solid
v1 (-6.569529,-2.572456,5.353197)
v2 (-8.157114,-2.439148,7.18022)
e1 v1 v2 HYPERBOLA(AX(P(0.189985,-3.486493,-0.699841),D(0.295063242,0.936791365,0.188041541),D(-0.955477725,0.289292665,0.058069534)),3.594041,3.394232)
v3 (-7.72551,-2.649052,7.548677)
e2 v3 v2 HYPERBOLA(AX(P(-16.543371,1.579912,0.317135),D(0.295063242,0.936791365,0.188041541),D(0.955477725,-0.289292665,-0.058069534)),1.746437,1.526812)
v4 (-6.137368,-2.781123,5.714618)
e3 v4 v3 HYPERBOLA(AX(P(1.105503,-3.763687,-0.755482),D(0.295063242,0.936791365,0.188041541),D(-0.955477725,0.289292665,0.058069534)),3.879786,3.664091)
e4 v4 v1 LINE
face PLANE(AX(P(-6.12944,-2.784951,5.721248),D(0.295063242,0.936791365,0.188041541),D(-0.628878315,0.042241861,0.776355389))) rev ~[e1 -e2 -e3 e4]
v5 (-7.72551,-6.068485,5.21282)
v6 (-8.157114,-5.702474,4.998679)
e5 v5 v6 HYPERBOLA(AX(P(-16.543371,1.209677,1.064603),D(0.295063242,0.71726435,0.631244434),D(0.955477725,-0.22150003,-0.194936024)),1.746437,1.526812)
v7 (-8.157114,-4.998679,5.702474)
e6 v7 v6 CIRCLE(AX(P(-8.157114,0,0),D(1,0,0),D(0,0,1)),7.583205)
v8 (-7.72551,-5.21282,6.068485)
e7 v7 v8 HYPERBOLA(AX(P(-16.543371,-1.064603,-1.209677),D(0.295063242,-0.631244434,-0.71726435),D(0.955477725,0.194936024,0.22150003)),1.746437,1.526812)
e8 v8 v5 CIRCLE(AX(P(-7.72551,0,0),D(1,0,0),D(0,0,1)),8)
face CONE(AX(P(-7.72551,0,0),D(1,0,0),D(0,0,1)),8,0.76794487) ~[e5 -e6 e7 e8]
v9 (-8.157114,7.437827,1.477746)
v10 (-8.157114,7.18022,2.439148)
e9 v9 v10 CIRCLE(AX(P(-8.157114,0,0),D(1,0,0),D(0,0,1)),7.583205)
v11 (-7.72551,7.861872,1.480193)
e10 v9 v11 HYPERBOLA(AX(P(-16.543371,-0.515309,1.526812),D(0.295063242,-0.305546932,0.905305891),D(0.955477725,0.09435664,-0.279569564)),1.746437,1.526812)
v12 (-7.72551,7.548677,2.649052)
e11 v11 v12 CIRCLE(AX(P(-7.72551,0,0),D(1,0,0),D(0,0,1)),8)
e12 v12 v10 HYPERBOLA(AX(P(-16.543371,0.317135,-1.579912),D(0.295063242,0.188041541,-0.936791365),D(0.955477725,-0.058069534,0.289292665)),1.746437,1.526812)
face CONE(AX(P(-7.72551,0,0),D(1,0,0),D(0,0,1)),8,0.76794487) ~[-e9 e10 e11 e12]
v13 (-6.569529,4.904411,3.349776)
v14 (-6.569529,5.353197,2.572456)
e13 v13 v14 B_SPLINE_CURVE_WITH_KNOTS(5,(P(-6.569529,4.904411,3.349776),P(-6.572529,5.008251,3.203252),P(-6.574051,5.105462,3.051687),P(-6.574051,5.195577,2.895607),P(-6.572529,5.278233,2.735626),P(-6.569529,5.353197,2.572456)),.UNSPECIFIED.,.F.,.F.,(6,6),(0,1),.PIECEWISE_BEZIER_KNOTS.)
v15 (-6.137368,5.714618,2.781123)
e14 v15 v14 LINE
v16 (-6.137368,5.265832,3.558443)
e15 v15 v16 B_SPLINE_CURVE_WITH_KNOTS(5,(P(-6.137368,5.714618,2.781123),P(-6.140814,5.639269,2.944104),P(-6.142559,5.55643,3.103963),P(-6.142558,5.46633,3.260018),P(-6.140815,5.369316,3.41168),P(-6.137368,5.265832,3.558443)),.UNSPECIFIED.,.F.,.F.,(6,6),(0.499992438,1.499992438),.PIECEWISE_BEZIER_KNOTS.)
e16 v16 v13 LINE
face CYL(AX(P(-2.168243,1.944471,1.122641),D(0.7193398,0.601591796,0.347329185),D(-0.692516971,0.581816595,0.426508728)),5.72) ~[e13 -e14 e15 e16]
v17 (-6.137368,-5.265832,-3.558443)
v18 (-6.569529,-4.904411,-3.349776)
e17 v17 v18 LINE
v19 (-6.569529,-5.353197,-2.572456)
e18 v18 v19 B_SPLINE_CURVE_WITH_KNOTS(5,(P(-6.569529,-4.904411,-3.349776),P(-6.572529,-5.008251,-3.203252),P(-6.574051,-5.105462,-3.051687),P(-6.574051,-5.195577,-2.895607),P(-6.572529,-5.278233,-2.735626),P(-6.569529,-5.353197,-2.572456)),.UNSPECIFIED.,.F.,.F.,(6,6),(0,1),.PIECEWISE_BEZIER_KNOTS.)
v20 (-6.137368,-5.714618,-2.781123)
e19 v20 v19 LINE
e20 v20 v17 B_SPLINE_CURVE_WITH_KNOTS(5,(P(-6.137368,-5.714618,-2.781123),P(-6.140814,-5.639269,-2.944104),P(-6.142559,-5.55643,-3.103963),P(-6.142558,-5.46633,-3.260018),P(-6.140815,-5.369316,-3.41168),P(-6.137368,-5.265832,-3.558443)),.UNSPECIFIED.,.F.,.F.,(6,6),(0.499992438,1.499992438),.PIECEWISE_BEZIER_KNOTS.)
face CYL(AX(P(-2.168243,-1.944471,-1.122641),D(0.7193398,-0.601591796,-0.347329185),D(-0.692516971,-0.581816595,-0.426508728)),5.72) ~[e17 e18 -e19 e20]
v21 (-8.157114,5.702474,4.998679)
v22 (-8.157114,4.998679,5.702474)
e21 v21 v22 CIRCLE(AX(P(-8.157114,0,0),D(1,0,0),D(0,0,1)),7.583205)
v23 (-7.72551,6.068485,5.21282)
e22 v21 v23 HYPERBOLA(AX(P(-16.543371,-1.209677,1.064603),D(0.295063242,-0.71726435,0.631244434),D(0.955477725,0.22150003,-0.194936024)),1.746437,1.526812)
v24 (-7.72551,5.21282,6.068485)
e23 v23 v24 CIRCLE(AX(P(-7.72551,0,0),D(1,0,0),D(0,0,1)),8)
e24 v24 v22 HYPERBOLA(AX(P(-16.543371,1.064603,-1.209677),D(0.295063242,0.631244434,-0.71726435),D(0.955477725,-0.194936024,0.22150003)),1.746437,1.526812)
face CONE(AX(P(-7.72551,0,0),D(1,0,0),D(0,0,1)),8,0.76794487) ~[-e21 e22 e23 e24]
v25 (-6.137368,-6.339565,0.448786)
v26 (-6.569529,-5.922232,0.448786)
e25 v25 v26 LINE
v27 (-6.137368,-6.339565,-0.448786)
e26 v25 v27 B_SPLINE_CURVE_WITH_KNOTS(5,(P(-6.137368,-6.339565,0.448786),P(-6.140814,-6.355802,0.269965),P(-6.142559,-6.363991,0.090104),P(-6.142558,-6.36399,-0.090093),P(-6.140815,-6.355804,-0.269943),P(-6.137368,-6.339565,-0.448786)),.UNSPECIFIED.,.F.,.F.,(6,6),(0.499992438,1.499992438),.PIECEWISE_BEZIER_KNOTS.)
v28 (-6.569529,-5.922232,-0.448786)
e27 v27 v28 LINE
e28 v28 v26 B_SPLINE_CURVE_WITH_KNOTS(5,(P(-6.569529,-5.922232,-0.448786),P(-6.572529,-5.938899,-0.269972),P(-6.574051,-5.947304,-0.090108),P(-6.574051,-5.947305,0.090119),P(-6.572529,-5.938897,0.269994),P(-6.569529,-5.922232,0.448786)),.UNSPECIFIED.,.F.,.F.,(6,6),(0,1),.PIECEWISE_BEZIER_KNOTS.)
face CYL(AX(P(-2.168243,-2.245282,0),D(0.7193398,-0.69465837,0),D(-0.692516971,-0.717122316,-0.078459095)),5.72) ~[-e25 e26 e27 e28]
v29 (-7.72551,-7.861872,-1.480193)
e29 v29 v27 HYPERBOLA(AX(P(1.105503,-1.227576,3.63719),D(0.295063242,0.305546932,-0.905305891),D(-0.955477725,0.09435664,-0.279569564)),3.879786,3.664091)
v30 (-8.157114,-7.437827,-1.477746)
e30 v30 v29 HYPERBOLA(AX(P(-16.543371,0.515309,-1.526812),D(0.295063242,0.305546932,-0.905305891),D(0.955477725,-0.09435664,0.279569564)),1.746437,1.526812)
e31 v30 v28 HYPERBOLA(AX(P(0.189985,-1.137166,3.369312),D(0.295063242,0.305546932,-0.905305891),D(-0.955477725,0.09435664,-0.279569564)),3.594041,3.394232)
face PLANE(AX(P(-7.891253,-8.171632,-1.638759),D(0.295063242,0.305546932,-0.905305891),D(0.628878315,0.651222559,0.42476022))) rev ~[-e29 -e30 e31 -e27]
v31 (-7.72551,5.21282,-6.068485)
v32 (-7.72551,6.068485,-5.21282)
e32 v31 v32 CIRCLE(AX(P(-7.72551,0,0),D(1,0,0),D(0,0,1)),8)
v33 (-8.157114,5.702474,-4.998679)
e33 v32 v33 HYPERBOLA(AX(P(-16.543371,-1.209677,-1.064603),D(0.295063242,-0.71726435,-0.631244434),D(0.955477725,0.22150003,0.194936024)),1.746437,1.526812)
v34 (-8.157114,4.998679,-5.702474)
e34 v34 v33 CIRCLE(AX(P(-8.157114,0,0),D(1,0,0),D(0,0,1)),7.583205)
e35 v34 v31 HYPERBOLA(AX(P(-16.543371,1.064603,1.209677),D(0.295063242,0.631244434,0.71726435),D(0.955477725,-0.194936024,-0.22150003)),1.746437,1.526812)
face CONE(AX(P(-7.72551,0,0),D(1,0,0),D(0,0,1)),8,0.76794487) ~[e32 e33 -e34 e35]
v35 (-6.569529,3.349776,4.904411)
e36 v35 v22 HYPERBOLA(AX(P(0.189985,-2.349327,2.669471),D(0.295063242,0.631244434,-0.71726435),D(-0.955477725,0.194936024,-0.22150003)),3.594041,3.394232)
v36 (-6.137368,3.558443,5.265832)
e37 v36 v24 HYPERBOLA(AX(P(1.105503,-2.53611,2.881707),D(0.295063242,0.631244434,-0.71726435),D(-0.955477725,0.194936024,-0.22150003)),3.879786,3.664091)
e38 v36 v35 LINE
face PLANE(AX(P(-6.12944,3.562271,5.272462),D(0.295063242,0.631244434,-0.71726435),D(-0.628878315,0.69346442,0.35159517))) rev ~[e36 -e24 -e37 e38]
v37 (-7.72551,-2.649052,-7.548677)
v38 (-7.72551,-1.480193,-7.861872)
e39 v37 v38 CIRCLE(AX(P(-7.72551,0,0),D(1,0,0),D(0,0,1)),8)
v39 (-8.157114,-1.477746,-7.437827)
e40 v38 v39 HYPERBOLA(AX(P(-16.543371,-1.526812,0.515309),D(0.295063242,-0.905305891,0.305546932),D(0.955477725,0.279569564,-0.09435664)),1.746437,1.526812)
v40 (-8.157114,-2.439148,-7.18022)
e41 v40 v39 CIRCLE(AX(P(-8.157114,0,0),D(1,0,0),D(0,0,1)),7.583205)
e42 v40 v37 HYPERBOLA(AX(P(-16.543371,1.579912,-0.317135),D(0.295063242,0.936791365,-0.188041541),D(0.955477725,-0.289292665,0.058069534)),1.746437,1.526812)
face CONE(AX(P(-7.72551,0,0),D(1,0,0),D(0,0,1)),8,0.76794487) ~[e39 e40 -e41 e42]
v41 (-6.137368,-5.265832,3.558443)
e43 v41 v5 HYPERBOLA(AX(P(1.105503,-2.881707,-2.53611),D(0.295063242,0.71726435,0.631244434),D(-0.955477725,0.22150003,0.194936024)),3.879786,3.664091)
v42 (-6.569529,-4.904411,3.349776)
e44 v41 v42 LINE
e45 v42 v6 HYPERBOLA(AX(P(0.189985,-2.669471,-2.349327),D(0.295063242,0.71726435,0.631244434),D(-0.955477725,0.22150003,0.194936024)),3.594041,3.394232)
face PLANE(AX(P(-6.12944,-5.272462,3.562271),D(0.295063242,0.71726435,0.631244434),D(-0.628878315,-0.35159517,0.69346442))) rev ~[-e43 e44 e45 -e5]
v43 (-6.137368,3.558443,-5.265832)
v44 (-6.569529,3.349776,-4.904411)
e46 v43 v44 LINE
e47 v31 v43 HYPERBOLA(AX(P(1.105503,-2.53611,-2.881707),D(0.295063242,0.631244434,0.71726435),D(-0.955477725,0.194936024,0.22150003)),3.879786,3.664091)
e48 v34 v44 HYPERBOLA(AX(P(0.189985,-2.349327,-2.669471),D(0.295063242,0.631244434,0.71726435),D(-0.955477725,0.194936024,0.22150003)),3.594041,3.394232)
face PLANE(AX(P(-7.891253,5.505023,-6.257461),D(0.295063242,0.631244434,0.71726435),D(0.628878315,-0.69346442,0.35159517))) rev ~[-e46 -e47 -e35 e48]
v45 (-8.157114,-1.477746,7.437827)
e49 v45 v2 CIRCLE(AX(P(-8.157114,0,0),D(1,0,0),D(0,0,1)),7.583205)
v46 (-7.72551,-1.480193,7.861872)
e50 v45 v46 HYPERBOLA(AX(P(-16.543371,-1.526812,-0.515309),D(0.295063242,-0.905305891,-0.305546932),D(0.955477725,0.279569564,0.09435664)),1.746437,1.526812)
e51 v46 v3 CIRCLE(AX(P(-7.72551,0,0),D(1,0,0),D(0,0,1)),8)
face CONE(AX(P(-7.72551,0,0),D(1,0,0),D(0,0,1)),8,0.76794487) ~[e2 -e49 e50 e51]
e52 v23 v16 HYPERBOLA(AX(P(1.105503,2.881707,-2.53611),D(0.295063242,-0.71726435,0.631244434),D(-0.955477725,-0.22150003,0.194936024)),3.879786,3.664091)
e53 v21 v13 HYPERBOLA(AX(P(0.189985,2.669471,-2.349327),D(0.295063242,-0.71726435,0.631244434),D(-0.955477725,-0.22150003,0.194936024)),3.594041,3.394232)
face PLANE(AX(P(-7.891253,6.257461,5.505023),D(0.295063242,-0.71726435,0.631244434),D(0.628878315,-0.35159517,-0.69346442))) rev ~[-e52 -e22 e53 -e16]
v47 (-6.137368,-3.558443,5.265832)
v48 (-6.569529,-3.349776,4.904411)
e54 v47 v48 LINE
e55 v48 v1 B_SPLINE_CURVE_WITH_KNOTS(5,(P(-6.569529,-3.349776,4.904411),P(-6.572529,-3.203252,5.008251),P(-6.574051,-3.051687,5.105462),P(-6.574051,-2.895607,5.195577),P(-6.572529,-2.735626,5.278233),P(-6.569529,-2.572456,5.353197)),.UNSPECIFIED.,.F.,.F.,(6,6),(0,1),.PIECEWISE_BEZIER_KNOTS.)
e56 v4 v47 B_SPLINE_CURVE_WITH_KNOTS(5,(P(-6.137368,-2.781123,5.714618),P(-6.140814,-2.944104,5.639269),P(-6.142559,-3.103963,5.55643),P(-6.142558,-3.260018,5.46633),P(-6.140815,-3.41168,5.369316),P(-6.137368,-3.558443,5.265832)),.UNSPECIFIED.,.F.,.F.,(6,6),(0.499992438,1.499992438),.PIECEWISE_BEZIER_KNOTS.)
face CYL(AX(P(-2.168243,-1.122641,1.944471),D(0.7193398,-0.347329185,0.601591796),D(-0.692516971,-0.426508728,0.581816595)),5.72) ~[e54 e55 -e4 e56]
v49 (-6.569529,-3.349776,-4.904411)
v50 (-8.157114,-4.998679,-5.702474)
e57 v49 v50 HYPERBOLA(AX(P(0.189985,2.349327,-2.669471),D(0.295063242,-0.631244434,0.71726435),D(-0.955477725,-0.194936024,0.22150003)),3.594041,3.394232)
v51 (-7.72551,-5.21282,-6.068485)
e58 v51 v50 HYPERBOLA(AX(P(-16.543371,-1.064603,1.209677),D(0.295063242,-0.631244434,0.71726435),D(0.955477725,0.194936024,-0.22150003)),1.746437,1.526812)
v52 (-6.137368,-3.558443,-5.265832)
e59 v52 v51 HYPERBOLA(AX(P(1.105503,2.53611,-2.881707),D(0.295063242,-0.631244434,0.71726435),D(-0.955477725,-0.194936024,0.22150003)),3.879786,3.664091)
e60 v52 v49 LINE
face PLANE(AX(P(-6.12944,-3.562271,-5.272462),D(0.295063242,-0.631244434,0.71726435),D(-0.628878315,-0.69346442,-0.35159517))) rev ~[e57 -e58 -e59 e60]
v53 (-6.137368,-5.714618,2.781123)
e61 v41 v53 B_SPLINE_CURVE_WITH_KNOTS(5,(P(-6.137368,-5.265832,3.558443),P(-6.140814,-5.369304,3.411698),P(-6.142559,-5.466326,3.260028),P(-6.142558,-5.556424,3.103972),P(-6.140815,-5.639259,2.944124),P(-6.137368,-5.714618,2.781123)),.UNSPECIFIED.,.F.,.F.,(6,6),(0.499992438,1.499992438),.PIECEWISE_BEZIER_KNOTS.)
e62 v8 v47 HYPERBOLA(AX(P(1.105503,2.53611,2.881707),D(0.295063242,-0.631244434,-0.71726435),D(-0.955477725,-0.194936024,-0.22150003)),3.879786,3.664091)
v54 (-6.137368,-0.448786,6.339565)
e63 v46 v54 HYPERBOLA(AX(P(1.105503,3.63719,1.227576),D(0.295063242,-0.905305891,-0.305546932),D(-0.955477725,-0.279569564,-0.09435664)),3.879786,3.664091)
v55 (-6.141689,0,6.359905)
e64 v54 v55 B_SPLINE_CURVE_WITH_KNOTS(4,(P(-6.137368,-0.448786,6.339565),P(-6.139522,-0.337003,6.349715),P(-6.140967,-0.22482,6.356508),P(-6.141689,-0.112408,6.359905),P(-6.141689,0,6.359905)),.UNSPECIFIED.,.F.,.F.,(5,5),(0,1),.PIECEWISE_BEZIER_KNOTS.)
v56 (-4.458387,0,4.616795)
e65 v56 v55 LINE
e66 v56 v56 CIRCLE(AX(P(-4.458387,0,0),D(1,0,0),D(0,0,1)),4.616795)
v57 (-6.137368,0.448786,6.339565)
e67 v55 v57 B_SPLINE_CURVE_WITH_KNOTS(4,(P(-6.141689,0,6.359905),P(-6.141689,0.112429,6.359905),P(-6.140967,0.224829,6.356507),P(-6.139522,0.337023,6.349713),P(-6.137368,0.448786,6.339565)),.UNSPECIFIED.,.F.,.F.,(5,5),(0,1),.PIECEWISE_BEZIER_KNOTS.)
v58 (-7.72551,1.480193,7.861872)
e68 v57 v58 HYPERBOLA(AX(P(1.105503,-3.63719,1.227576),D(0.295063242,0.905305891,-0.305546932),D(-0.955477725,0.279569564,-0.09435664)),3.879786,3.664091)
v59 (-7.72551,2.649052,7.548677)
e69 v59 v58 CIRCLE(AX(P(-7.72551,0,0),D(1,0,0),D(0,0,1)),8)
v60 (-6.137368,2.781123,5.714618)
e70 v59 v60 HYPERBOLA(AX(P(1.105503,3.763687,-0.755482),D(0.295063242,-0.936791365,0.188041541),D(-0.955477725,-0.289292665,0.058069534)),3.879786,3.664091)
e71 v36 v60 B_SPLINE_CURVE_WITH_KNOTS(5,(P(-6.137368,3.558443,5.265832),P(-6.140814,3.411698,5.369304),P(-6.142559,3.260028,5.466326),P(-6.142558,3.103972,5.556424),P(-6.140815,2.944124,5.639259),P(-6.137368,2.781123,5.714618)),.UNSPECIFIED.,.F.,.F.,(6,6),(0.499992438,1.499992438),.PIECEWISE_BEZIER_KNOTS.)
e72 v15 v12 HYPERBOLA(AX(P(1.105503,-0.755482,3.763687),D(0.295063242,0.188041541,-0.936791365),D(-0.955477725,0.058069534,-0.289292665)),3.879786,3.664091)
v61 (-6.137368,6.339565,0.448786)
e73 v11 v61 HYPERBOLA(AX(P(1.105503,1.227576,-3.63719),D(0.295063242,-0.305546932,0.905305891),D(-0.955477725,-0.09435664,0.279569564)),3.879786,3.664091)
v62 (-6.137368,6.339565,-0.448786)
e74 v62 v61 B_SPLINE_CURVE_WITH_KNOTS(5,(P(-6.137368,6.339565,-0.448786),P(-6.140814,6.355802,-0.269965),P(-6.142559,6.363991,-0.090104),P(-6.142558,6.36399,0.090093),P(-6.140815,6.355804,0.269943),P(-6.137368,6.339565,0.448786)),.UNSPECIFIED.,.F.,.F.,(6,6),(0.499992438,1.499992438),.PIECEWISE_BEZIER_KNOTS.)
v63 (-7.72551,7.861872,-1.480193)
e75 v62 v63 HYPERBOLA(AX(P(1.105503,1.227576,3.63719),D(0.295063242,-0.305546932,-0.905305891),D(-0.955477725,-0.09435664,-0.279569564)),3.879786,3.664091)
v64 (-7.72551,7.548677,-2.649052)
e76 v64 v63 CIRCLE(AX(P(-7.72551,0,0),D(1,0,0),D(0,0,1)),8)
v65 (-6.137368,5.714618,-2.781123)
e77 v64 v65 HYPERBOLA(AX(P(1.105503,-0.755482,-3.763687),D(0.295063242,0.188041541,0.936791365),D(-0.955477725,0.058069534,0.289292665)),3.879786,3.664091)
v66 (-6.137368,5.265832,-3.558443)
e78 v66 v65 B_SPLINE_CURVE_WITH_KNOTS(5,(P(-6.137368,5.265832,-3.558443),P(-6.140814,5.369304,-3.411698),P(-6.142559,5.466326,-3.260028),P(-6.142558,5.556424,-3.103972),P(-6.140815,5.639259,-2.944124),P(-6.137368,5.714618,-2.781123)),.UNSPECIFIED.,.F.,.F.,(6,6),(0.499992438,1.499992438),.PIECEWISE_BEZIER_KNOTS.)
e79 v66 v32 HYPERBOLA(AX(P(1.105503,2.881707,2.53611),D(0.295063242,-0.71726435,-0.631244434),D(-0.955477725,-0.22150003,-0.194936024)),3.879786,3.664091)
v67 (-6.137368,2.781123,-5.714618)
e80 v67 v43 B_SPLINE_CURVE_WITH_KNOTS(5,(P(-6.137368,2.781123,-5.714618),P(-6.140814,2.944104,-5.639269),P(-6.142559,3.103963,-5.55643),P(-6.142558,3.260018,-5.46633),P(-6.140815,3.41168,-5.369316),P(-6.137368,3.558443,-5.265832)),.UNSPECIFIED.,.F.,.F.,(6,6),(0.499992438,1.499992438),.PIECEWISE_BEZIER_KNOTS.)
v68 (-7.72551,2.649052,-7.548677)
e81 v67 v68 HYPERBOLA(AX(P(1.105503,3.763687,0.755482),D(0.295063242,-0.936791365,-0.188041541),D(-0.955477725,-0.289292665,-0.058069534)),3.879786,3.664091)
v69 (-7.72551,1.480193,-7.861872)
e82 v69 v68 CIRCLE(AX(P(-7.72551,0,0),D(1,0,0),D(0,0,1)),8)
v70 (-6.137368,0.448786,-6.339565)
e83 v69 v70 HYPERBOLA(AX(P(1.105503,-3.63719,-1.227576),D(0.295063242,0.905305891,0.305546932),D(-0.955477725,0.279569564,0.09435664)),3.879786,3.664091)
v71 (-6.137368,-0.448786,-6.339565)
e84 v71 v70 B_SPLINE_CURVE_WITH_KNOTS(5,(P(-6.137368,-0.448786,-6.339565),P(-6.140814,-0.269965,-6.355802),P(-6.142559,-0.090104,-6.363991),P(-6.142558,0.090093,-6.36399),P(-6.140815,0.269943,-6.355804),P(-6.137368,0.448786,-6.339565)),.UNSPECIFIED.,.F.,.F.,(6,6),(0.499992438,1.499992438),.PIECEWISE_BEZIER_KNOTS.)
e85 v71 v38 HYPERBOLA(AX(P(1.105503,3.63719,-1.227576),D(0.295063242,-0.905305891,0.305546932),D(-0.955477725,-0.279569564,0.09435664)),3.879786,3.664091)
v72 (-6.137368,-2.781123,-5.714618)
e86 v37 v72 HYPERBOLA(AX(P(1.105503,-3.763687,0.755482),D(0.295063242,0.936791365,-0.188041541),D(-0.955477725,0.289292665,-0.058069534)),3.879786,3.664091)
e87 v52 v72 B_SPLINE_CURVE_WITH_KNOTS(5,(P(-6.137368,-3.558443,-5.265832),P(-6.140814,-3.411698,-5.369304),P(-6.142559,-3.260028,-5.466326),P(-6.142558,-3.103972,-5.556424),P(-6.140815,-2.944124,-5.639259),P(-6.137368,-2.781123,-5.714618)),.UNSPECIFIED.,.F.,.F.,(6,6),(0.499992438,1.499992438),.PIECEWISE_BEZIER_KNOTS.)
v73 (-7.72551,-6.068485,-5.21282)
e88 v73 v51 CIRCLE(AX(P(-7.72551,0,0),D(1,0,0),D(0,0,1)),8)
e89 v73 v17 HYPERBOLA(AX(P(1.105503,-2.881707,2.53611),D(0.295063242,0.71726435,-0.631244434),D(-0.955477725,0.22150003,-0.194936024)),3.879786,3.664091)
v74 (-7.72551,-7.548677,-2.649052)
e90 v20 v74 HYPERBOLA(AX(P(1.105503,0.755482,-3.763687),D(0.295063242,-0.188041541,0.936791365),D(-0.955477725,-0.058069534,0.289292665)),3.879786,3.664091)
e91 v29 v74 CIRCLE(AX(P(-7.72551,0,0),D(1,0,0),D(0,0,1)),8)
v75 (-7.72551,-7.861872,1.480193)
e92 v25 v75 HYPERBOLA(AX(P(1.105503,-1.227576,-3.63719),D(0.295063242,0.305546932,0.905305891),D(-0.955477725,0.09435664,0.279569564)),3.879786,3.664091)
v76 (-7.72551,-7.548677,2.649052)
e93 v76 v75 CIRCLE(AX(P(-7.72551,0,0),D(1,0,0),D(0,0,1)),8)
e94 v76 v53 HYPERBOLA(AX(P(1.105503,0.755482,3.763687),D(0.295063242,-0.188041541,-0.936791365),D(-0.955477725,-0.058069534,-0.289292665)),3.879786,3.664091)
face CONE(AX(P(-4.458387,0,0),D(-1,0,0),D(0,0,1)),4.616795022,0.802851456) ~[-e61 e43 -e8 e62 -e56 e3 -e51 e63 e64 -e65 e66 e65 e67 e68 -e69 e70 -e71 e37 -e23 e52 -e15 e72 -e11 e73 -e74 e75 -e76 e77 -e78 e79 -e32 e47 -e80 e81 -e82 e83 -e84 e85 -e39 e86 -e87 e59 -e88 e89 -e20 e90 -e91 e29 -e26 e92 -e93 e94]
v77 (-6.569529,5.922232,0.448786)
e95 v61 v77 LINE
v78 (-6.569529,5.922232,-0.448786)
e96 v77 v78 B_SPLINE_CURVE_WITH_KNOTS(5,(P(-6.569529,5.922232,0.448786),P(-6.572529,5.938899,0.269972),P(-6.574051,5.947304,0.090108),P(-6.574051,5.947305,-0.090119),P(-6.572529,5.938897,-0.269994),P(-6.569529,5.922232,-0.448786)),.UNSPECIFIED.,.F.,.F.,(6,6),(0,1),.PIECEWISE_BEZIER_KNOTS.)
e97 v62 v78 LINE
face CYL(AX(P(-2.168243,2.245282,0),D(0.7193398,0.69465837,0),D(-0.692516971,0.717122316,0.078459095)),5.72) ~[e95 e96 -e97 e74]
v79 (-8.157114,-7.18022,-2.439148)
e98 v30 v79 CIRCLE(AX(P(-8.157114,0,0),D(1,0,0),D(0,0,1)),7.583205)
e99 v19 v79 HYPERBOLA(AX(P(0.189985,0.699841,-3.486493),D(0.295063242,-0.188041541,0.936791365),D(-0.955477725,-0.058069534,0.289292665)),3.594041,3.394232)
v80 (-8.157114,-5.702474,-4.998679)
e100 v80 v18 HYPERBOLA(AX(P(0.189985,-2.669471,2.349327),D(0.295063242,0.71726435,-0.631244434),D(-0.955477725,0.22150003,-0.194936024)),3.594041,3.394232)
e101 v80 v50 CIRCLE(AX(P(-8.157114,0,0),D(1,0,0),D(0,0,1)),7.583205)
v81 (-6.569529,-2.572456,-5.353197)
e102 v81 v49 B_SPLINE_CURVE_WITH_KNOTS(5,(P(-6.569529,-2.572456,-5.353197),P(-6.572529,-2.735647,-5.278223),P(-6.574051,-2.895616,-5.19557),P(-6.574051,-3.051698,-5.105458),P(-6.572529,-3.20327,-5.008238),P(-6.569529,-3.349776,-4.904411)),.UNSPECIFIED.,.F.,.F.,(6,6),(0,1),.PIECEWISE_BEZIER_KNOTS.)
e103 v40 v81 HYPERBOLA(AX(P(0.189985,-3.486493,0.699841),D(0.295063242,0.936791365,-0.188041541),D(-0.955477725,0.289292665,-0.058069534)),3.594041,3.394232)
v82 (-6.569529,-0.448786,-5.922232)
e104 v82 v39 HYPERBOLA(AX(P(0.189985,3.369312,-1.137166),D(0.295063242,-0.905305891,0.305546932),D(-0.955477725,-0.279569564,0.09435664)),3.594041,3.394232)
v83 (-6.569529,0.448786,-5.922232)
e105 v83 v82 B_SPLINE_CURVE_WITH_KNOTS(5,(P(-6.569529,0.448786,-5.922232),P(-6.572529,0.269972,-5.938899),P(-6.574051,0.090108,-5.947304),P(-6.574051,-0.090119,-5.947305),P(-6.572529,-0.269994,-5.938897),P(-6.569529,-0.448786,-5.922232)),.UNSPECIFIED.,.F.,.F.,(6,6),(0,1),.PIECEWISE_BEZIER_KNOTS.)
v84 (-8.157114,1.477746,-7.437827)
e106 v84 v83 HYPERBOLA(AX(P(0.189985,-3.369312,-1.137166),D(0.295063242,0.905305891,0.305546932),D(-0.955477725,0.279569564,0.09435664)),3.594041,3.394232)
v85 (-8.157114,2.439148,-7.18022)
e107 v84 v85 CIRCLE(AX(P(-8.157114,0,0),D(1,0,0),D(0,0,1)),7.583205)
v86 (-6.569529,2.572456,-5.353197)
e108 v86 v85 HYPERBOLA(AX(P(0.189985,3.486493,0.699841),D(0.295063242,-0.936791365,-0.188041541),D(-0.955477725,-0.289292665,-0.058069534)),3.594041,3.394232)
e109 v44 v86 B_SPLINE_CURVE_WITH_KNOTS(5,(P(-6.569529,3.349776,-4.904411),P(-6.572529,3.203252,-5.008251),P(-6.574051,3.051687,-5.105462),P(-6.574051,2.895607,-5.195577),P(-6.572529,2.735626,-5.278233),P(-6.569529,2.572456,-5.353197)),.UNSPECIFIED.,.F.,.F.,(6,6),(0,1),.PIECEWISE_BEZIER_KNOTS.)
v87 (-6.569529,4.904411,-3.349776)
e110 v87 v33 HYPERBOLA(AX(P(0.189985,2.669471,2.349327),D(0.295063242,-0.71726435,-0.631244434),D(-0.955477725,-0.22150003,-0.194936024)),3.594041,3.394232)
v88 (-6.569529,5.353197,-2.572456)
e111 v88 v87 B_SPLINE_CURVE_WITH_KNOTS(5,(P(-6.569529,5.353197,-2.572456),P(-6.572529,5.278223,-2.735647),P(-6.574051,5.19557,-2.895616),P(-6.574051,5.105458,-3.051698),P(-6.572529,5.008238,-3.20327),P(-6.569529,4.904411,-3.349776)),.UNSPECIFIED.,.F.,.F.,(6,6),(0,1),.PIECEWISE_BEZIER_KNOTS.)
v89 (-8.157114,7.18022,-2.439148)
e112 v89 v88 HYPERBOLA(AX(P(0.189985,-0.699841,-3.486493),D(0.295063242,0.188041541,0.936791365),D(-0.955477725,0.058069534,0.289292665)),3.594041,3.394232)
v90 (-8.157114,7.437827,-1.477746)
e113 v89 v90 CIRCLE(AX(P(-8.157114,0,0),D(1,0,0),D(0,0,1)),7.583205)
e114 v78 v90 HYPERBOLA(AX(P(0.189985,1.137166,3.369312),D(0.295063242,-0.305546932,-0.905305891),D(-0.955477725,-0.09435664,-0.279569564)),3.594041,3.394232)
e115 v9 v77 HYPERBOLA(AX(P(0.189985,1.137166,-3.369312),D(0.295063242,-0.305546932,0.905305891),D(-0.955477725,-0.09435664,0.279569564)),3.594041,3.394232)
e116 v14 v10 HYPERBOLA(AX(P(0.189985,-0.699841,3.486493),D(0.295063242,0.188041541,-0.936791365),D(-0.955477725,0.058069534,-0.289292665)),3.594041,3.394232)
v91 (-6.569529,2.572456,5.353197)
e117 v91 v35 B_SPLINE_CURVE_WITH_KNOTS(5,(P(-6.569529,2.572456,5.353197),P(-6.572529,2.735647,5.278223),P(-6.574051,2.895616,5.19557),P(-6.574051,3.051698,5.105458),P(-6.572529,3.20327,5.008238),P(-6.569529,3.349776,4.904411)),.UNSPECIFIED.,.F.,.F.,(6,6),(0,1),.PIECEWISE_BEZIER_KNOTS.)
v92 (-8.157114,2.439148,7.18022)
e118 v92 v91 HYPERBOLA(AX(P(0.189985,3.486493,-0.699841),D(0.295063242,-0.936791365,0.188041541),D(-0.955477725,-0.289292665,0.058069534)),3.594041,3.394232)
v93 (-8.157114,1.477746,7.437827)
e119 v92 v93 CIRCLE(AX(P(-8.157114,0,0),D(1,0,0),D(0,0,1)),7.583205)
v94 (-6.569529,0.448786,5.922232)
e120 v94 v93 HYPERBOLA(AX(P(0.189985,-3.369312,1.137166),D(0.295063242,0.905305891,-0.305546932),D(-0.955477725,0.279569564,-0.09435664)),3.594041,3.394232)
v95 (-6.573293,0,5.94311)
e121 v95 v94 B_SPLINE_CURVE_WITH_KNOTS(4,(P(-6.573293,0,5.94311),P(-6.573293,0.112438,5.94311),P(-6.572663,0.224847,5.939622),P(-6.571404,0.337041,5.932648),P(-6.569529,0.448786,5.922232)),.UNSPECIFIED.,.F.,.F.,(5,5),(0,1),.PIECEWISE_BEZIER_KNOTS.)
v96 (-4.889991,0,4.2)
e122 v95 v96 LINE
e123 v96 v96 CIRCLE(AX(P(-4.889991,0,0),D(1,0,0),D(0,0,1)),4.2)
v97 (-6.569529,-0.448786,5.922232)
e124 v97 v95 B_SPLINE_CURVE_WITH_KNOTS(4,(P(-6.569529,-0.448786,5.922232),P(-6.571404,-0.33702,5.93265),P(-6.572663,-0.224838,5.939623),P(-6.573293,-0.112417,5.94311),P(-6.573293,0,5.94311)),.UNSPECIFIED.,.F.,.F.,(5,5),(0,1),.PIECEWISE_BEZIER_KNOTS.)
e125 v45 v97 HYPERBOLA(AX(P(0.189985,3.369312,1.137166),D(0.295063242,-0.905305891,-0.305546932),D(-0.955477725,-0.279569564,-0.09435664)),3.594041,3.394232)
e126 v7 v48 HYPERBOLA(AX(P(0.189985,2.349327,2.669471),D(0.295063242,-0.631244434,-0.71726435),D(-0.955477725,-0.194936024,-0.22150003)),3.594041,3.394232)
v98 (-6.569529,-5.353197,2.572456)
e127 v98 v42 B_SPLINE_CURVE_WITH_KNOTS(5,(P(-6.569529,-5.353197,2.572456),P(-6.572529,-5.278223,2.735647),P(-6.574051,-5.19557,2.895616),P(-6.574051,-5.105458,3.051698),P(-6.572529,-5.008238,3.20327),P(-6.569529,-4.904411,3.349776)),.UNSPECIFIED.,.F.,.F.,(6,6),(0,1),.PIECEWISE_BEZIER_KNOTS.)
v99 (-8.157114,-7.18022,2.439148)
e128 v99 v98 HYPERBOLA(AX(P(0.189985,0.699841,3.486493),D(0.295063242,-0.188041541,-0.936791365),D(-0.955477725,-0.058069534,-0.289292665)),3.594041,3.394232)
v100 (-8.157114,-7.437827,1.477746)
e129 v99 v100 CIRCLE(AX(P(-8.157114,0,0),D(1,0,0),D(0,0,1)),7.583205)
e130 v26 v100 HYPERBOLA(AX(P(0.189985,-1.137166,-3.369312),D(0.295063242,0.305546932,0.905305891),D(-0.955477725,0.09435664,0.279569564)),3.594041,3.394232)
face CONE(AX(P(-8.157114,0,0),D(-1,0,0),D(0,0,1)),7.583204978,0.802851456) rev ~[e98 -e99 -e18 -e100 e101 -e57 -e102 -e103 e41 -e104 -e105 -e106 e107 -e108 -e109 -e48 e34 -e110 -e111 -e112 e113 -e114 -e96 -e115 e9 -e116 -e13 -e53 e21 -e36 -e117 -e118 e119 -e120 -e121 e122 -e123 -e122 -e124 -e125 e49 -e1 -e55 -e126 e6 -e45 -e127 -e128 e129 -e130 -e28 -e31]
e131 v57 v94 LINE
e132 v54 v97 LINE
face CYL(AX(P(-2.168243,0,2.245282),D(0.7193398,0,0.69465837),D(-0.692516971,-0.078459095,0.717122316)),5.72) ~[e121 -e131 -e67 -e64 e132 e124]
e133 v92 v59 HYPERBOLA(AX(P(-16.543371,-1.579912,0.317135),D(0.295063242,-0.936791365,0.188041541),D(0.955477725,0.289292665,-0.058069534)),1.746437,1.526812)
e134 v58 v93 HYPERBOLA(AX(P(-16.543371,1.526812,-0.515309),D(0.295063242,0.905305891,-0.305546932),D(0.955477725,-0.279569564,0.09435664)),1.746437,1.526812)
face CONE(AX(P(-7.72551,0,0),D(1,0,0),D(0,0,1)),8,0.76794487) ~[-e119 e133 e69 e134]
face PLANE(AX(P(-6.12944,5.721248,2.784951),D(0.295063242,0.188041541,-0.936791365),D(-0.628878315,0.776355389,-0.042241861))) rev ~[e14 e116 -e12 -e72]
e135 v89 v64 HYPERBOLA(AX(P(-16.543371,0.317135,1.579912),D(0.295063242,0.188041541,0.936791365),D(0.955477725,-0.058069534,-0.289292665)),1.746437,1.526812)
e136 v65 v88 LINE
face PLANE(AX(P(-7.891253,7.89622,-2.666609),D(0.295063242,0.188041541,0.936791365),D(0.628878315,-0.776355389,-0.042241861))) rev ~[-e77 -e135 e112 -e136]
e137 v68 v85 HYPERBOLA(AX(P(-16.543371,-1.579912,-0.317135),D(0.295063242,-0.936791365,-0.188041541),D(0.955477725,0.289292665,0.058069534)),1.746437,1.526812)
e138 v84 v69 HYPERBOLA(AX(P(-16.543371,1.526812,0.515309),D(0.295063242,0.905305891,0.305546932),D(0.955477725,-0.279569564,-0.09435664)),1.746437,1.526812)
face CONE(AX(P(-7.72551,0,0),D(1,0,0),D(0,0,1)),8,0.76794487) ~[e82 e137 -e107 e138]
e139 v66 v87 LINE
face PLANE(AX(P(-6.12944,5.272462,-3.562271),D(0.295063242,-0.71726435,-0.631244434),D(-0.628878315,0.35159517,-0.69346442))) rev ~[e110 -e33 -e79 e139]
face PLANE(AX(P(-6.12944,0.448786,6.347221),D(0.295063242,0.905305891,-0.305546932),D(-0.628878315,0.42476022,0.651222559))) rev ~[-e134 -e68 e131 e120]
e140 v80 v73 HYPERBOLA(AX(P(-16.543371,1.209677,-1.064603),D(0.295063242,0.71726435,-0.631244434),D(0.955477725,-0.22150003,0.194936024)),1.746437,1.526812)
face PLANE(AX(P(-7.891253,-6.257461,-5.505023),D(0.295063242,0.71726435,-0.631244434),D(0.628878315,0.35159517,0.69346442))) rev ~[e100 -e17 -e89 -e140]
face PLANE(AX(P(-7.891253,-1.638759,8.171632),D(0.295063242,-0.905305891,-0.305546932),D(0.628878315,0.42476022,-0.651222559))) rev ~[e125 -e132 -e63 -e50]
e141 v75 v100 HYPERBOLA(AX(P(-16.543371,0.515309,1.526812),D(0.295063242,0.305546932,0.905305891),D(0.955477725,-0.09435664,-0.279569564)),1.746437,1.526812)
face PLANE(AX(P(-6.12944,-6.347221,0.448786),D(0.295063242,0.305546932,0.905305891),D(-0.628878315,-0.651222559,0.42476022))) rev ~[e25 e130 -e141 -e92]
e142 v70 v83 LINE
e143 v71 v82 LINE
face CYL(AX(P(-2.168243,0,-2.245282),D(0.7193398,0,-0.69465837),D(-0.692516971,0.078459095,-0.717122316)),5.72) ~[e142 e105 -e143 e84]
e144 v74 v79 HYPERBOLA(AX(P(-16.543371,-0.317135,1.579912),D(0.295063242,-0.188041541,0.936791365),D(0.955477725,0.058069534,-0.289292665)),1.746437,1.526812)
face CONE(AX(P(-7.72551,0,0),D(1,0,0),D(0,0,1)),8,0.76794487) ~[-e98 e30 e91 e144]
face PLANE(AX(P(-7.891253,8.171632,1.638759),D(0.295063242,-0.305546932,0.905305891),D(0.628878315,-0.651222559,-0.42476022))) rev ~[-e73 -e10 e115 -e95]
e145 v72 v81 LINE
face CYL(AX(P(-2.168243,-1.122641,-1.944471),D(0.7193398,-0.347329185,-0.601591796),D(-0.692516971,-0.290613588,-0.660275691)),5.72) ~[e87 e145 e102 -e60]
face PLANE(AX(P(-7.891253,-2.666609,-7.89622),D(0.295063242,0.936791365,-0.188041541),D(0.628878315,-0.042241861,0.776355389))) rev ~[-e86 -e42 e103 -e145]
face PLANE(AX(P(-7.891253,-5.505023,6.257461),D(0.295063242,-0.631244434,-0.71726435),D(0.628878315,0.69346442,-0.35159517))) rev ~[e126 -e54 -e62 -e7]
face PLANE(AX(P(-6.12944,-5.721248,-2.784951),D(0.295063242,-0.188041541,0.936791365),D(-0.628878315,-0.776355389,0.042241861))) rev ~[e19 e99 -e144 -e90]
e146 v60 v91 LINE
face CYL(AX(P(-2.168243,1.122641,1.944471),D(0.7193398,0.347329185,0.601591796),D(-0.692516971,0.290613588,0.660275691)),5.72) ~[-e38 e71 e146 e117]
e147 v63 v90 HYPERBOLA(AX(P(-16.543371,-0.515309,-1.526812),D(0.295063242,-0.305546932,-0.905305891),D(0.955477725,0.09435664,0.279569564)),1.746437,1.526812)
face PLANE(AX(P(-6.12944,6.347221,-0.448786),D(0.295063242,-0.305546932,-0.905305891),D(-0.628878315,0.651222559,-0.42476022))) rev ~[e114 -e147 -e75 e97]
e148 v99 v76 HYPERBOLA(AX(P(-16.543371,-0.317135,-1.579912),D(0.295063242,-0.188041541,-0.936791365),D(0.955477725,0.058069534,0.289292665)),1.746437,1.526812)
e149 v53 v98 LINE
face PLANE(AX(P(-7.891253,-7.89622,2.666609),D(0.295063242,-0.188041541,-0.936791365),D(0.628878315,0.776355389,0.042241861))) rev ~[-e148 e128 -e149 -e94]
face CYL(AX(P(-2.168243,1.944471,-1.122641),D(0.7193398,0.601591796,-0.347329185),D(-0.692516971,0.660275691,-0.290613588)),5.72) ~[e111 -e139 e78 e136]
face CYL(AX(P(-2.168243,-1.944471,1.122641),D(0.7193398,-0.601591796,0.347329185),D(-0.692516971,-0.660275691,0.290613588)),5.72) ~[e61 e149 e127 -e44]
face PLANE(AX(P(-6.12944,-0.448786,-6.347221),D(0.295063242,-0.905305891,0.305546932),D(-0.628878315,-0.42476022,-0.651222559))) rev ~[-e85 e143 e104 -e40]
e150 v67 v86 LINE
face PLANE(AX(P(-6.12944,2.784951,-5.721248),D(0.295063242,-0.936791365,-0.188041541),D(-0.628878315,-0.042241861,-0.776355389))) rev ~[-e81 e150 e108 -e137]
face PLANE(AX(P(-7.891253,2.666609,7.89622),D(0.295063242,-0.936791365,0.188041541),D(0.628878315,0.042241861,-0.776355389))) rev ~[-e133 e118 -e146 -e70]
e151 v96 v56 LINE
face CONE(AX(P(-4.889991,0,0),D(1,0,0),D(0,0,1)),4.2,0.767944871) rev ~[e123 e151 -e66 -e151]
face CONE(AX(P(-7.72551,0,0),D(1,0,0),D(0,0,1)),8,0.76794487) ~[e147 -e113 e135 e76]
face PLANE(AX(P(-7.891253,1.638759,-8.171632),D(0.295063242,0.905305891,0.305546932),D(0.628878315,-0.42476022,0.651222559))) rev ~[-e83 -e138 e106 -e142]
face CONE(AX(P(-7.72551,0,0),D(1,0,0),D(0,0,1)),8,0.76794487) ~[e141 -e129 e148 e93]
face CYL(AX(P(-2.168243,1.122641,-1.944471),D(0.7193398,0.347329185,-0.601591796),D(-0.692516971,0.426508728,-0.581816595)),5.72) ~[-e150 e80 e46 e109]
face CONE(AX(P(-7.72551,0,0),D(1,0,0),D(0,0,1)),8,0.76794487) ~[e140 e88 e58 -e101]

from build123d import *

# Parameters (mm, degrees)
EXTCUT_DEPTH  = 19.184446463
EXTCUTS_COUNT = 12
EXTCUTS_ANGLE = 330


with BuildPart() as part:
    # SecSke → Base-Revolve (revolve)
    with BuildSketch(Plane.XY, mode=Mode.PRIVATE) as base_revolve_sk:
        Polygon((-4.458387129, 4.616795022), (-7.725510198, 8), (-8.157114079, 7.583204978), (-4.889991009, 4.2), align=None)
    revolve(base_revolve_sk.sketch.rotate(Axis((-34.925, 0, 0), (1, 0, 0)), 90), axis=Axis((-34.925, 0, 0), (1, 0, 0)))

    # ExtCutSke → ExtCut (cut, through all)
    with BuildSketch(Plane(origin=(-7.725510198, 8, 0), x_dir=(0, 0, 1), z_dir=(0.7193398003386475, 0.694658370459001, 0))):
        with BuildLine():
            Line((-0.448786028, 2.297632851), (-1.638758705, -0.238596355))
            ThreePointArc((-1.638758705, -0.238596355), (0, -0.4), (1.638758705, -0.238596355))
            Line((1.638758705, -0.238596355), (0.448786028, 2.297632851))
            ThreePointArc((0.448786028, 2.297632851), (0, 2.28), (-0.448786028, 2.297632851))
        make_face()
    extcut = extrude(amount=-EXTCUT_DEPTH, mode=Mode.SUBTRACT)

    # ExtCuts: ExtCut ×12 about axis
    extcuts_axis = Axis((-34.925, 0, 0), (1, 0, 0))
    for i in range(1, EXTCUTS_COUNT):
        add(extcut.rotate(extcuts_axis, i * EXTCUTS_ANGLE / (EXTCUTS_COUNT - 1)), mode=Mode.SUBTRACT)


solid = part.part
